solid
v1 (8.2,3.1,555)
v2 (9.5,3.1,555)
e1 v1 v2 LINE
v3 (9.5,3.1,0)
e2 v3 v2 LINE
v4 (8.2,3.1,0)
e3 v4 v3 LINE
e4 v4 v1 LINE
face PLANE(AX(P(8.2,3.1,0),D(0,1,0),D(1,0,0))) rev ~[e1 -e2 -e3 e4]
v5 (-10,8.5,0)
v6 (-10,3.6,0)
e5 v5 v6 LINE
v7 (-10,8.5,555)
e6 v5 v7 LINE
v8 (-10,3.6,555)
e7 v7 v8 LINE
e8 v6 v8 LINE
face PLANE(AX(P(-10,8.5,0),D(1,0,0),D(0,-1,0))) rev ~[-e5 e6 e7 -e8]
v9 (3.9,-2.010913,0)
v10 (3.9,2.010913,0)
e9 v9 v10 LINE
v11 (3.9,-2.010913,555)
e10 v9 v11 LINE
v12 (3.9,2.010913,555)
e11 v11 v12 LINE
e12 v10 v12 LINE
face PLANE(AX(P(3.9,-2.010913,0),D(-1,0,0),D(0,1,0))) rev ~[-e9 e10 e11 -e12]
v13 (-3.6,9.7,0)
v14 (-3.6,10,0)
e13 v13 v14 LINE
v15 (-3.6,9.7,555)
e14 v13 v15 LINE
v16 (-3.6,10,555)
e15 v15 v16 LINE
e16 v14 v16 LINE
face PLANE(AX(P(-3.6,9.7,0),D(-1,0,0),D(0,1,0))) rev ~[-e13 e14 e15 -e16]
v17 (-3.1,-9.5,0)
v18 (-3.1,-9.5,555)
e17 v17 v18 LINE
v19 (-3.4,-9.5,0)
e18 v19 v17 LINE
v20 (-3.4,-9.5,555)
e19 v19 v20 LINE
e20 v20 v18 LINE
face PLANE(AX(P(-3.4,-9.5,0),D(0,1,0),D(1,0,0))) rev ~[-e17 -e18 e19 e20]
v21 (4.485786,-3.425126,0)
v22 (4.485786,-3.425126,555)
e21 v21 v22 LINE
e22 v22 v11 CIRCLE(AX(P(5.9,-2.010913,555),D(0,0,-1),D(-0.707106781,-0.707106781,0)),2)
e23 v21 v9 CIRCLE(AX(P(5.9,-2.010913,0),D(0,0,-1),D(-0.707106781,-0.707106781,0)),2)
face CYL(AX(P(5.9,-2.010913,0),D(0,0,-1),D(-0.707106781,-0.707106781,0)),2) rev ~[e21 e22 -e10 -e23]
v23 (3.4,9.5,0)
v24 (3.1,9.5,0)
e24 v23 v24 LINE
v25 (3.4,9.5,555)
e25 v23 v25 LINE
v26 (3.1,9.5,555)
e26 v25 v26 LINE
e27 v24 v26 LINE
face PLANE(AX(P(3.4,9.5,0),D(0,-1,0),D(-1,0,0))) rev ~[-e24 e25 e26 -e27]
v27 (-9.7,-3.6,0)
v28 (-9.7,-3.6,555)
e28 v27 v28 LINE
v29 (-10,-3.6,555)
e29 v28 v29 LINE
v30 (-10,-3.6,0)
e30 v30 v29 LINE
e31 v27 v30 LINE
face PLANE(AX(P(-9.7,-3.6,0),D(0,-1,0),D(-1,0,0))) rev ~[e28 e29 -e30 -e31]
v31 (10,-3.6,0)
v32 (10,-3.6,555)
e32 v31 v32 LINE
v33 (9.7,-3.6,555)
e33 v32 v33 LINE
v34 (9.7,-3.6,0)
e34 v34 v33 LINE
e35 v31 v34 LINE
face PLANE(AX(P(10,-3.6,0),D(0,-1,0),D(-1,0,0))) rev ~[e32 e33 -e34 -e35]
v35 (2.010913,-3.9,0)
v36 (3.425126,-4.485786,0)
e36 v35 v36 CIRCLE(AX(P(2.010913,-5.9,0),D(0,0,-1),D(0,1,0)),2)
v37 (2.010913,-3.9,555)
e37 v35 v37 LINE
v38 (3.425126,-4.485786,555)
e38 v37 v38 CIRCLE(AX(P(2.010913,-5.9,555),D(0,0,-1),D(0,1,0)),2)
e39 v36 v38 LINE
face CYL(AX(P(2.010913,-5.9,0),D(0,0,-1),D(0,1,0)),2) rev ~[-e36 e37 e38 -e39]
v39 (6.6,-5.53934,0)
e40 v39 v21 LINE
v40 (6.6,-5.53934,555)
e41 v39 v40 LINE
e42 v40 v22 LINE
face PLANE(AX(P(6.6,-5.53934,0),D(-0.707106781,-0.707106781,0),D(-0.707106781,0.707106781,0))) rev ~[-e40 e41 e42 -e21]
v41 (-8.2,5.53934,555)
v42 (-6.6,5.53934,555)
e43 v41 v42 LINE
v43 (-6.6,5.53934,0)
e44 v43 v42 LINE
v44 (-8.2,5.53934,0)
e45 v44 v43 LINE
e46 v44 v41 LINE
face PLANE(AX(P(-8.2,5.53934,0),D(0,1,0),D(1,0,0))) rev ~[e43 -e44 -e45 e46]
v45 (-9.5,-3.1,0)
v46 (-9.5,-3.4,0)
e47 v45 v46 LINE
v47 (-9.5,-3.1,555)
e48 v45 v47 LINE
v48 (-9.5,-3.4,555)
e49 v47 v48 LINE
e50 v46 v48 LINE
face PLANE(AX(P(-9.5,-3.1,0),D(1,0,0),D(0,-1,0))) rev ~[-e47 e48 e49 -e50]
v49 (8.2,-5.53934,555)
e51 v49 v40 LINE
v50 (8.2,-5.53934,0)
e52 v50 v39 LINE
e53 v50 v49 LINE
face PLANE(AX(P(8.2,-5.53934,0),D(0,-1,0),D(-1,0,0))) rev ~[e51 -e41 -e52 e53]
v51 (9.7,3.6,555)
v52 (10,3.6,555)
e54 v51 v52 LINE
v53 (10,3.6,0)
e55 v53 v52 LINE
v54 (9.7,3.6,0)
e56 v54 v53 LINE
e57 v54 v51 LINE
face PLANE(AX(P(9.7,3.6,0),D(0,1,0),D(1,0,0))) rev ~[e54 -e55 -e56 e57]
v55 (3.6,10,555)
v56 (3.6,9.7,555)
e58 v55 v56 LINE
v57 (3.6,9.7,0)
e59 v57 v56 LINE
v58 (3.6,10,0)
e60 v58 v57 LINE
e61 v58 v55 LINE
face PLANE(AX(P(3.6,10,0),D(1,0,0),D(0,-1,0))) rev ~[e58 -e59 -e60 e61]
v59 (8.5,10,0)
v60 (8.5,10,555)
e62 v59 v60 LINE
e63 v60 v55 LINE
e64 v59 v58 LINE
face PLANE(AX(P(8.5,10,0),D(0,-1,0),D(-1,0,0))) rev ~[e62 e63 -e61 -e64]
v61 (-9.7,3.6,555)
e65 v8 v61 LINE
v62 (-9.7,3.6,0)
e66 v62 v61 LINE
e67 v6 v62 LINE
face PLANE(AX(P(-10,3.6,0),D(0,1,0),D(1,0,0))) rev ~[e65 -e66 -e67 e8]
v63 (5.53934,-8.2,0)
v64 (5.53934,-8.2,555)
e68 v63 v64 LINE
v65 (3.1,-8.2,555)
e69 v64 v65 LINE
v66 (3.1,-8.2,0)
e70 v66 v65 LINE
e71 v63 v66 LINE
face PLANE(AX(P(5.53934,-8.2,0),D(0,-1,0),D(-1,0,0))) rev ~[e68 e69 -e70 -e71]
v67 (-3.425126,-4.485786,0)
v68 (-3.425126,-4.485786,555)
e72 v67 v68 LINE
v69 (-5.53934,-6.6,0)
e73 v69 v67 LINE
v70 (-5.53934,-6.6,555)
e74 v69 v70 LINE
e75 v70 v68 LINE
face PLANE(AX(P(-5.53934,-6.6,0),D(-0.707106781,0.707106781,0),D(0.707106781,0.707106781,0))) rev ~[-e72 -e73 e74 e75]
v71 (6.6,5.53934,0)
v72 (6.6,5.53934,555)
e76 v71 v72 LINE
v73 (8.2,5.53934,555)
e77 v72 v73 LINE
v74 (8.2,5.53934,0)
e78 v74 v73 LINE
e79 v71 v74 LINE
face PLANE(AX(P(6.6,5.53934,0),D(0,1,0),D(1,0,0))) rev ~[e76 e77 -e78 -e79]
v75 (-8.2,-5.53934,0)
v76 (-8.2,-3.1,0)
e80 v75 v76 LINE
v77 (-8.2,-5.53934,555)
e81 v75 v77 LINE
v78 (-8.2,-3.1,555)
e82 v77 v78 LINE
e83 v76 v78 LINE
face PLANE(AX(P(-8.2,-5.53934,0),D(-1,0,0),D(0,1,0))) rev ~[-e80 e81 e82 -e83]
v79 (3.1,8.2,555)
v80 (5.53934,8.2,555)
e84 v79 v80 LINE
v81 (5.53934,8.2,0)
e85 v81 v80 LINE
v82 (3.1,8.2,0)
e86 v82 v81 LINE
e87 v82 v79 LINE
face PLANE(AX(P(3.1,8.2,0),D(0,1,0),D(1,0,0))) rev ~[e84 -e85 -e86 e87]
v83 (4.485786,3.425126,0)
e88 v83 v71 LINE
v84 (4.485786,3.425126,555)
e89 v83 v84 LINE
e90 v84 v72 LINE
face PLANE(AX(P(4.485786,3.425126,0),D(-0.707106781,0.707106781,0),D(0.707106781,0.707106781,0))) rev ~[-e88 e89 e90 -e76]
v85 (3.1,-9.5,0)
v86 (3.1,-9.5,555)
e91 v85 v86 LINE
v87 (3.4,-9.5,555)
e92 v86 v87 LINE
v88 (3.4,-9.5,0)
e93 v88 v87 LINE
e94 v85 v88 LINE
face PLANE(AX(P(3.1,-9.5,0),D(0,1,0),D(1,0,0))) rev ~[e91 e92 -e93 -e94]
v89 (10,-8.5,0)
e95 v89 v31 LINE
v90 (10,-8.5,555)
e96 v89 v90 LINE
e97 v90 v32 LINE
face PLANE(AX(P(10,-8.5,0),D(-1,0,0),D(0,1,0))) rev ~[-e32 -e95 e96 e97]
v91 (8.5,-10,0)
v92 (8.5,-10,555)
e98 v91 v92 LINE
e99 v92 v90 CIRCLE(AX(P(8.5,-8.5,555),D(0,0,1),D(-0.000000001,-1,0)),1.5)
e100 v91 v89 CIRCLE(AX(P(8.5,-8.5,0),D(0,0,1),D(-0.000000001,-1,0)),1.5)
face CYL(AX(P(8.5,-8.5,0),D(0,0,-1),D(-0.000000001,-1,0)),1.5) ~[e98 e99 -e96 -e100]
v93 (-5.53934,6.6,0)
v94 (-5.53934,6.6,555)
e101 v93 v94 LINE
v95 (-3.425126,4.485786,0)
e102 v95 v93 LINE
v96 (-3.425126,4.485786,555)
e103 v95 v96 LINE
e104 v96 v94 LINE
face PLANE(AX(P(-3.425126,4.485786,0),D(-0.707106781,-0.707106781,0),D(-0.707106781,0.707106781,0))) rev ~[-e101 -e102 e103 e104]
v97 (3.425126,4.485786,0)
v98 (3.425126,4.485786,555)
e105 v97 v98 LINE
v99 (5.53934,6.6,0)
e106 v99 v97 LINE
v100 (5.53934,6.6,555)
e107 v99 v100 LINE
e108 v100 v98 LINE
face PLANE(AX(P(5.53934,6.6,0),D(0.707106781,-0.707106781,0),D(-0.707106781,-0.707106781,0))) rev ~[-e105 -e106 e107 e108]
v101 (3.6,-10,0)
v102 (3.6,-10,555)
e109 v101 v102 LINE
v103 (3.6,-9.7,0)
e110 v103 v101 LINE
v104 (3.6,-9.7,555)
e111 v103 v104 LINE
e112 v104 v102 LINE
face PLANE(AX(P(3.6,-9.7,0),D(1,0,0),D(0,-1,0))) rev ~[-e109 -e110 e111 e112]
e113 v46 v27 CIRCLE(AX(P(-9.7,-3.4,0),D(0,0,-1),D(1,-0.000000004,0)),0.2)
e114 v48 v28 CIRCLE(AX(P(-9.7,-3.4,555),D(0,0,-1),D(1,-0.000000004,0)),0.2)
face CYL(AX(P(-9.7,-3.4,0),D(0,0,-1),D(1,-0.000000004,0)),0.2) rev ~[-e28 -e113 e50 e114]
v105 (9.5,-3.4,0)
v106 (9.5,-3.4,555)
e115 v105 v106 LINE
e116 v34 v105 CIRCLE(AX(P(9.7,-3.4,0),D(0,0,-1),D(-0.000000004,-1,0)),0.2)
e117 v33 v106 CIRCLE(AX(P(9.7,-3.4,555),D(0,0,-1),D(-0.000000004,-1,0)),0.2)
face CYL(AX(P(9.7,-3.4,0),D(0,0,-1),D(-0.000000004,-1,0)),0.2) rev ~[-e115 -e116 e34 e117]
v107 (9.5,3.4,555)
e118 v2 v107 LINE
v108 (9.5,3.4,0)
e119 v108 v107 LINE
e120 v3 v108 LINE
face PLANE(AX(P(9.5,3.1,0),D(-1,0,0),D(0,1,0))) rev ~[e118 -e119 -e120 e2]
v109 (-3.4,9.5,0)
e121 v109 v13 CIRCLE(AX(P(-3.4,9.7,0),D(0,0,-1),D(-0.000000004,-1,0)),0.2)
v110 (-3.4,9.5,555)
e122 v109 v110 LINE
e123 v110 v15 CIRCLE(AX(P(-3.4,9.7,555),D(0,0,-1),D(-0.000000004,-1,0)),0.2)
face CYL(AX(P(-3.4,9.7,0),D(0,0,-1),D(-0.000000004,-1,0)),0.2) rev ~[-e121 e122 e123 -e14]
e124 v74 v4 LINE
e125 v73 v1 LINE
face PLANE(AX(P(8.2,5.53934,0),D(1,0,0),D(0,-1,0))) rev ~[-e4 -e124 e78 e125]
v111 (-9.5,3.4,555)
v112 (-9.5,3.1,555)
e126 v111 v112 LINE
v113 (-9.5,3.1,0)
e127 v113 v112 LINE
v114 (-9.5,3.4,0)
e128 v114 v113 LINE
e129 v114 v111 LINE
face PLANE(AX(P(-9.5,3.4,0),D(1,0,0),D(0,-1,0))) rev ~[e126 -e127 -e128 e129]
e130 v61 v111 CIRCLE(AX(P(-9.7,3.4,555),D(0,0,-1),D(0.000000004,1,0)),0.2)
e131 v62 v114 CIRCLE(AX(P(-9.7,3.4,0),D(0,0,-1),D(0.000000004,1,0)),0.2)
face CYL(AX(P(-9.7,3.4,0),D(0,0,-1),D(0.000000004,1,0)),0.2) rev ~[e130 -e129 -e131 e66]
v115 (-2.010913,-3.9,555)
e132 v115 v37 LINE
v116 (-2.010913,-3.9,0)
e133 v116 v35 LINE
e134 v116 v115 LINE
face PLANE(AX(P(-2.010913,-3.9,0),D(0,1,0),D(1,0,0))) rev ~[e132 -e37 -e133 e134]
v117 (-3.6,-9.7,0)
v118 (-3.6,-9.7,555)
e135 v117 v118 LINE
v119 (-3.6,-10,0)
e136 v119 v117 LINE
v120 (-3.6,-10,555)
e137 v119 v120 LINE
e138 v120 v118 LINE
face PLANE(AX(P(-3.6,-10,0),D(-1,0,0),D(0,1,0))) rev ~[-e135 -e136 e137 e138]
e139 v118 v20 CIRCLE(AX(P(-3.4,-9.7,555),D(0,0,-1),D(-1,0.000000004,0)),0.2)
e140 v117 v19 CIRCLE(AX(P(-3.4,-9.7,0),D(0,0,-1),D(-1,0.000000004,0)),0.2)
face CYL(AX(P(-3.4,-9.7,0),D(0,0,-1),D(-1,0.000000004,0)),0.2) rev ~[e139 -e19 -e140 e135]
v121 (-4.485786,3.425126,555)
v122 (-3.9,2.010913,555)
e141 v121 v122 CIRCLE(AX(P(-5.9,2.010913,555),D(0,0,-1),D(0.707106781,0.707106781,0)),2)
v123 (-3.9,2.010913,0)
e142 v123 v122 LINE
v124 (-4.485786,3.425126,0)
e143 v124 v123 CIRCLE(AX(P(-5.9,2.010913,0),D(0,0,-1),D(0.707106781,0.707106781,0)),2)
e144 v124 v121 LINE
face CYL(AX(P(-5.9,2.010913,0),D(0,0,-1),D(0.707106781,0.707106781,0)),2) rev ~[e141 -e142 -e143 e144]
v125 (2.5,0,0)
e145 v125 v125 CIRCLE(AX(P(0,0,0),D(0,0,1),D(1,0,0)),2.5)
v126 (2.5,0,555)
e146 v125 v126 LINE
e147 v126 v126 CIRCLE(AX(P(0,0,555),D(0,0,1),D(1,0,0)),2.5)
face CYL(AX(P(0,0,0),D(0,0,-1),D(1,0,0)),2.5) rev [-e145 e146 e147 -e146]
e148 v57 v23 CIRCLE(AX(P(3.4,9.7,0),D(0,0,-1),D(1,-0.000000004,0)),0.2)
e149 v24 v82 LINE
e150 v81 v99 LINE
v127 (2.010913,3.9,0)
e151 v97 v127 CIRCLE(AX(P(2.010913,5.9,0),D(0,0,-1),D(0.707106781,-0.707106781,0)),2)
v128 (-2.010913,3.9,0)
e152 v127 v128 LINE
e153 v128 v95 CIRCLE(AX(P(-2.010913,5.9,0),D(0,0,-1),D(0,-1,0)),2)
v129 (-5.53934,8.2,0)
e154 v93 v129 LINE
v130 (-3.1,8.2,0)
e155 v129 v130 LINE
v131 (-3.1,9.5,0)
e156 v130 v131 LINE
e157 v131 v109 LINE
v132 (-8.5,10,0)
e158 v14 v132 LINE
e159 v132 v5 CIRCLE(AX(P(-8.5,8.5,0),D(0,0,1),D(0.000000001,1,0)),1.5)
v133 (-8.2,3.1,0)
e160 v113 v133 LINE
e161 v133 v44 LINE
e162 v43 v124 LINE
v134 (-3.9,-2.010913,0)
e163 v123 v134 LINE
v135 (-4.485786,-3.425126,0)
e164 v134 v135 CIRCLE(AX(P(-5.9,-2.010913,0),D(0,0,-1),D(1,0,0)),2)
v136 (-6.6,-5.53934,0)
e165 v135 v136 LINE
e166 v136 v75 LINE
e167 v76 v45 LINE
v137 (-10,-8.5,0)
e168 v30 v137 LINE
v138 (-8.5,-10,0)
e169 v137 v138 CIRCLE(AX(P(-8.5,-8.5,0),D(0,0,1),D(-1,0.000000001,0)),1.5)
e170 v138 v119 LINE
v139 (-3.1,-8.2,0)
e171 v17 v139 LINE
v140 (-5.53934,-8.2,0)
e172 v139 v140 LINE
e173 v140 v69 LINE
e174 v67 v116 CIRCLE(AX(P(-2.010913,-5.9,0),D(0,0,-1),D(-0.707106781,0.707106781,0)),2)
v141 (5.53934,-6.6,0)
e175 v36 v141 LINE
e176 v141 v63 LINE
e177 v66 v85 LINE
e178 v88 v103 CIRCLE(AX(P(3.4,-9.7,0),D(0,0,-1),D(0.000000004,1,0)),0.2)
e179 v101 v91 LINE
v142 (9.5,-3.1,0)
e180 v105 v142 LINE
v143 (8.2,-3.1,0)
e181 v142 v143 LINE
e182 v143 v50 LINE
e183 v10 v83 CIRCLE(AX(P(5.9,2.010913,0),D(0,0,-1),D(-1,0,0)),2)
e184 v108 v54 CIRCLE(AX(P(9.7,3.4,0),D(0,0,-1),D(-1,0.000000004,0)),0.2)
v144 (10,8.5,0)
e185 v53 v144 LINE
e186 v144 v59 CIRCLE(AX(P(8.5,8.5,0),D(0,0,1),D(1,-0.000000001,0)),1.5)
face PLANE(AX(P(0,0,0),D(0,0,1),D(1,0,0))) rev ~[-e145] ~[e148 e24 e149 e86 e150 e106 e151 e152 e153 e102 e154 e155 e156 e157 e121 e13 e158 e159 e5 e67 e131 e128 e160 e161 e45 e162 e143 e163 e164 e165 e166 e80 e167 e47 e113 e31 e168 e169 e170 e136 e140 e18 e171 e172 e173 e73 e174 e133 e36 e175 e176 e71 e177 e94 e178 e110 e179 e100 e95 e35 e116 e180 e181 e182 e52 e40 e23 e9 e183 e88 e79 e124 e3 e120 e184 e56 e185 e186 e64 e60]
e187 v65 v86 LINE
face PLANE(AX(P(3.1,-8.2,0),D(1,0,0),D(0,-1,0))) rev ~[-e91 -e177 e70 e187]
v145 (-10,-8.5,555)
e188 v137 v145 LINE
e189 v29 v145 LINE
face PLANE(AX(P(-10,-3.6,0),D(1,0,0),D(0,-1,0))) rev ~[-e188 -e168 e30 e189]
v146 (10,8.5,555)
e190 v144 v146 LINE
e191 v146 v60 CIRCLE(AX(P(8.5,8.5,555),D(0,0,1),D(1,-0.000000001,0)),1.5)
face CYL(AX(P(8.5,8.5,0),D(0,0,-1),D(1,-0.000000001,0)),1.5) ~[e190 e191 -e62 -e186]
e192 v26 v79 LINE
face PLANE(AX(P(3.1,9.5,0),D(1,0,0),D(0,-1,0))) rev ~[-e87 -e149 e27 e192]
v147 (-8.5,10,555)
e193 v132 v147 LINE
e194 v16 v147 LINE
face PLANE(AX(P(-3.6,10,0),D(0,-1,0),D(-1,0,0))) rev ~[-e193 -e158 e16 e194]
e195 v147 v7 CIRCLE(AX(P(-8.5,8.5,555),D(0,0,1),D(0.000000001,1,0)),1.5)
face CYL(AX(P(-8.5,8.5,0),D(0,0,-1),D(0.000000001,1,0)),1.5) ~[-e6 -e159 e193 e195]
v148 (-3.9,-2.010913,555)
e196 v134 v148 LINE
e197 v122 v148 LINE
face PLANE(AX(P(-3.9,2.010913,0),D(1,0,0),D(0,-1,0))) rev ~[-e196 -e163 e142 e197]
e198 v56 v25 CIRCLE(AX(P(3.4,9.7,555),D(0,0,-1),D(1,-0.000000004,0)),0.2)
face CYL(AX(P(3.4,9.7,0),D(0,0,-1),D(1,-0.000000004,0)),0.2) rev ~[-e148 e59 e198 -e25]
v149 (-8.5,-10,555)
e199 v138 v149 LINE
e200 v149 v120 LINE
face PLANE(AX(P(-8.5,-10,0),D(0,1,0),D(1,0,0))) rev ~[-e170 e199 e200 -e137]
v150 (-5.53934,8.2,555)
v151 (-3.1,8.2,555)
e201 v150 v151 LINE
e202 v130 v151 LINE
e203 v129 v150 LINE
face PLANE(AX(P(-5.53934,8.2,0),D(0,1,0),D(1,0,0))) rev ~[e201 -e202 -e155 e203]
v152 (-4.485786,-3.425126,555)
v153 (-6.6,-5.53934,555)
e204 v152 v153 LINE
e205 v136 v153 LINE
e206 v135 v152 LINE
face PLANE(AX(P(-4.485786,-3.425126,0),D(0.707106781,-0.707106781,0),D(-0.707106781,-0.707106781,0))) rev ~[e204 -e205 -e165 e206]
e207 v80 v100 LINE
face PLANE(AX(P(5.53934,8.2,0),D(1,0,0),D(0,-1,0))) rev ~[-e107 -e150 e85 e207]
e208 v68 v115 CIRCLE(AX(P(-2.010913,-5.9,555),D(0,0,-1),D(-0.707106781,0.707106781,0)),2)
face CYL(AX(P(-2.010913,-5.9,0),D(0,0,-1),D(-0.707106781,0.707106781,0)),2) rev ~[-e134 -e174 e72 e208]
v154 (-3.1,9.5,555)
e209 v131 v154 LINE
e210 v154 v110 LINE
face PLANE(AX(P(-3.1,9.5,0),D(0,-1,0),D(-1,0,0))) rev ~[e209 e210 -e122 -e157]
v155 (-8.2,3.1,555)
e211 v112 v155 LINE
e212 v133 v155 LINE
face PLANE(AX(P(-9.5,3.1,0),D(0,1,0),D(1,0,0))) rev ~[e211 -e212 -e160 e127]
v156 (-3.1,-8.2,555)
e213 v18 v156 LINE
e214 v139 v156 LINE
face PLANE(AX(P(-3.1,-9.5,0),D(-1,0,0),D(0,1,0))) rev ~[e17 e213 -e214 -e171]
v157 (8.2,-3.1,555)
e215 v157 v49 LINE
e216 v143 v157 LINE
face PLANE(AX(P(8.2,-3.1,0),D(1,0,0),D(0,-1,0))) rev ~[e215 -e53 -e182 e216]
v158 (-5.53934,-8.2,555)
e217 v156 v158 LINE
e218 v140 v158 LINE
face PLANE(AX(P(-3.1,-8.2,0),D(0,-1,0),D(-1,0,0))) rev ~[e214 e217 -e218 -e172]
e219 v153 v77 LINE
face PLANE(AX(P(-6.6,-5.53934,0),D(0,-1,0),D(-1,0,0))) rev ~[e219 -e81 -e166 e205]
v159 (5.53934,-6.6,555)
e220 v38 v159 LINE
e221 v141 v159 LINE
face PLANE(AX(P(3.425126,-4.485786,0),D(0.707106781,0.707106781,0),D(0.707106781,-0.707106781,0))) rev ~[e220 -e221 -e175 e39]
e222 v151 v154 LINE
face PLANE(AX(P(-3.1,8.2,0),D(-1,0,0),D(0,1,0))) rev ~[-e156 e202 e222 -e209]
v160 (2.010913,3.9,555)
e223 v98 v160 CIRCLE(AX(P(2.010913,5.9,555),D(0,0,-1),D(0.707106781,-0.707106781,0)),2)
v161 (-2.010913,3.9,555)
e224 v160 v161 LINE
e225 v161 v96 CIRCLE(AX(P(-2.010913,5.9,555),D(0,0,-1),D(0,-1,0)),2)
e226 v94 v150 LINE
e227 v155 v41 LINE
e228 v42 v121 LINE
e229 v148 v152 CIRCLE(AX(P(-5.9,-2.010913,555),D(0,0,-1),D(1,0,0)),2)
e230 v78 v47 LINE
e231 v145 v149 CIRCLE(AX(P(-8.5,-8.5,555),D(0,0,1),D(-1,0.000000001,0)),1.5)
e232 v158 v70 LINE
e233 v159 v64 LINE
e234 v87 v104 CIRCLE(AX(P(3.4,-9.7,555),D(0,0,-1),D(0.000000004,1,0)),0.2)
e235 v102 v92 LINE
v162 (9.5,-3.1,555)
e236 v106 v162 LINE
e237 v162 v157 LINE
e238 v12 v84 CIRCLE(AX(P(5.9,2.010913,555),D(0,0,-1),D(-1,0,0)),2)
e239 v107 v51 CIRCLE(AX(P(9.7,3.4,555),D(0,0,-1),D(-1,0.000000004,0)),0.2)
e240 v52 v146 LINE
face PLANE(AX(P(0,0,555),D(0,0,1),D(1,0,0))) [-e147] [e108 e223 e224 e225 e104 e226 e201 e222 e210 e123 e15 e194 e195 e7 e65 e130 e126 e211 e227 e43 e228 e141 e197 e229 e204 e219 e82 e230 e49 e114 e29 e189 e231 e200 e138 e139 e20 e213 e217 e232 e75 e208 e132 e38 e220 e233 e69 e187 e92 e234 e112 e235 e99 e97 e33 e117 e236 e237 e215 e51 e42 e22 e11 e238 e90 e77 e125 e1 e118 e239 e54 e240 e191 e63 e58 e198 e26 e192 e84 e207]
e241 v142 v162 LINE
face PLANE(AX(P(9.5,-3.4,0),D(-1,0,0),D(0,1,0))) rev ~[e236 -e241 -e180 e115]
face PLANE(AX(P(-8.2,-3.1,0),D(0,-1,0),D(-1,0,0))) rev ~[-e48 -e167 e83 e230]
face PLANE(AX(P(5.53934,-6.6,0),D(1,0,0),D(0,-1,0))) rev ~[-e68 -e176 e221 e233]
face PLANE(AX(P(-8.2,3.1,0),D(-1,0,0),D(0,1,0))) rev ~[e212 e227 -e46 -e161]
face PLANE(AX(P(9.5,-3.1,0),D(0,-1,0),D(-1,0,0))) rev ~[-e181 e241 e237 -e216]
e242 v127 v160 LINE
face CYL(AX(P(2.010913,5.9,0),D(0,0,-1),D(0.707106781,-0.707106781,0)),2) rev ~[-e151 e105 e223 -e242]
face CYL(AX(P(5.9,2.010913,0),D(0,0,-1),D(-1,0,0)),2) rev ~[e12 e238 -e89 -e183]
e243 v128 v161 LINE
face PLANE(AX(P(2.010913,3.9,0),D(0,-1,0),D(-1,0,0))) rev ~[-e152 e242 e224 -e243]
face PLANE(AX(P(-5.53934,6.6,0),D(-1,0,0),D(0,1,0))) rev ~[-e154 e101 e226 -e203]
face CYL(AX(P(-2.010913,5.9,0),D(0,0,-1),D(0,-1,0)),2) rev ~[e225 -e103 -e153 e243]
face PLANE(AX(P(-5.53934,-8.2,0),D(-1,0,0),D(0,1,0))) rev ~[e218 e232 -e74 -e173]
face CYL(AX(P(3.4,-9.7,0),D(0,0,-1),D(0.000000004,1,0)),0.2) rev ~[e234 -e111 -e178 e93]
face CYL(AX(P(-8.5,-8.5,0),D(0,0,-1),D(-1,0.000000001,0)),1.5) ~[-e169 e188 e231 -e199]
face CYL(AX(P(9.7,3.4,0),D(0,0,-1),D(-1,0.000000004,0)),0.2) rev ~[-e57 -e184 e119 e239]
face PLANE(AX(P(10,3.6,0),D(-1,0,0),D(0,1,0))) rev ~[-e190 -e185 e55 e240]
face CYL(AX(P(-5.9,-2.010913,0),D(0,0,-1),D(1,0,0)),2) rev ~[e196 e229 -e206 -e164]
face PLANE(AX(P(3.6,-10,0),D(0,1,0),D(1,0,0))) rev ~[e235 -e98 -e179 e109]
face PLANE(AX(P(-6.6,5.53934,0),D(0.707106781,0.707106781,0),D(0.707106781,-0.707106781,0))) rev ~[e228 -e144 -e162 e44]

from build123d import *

# Parameters (mm, degrees)
SKETCH1_R      = 2.5
EXTRUDE1_DEPTH = 555


with BuildPart() as part:
    # Sketch1 → Extrude1 (new body)
    with BuildSketch(Plane.XY):
        with BuildLine():
            Line((0, 3.9), (-2.010912703, 3.9))
            ThreePointArc((-2.010912703, 3.9), (-2.776279568, 4.052240935), (-3.425126266, 4.485786438))
            Line((-3.425126266, 4.485786438), (-5.539339828, 6.6))
            Line((-5.539339828, 6.6), (-5.539339828, 8.2))
            Line((-5.539339828, 8.2), (-3.1, 8.2))
            Line((-3.1, 8.2), (-3.1, 9.5))
            Line((-3.1, 9.5), (-3.4, 9.5))
            ThreePointArc((-3.4, 9.5), (-3.541421356, 9.558578644), (-3.6, 9.7))
            Line((-3.6, 9.7), (-3.6, 10))
            Line((-3.6, 10), (-8.5, 10))
            ThreePointArc((-8.5, 10), (-9.560660172, 9.560660172), (-10, 8.5))
            Line((-10, 8.5), (-10, 3.6))
            Line((-10, 3.6), (-9.7, 3.6))
            ThreePointArc((-9.7, 3.6), (-9.558578644, 3.541421356), (-9.5, 3.4))
            Line((-9.5, 3.4), (-9.5, 3.1))
            Line((-9.5, 3.1), (-8.2, 3.1))
            Line((-8.2, 3.1), (-8.2, 5.539339828))
            Line((-8.2, 5.539339828), (-6.6, 5.539339828))
            Line((-6.6, 5.539339828), (-4.485786438, 3.425126266))
            ThreePointArc((-4.485786438, 3.425126266), (-4.052240935, 2.776279568), (-3.9, 2.010912703))
            Line((-3.9, 2.010912703), (-3.9, 0))
            Line((-3.9, 0), (-3.9, -2.010912703))
            ThreePointArc((-3.9, -2.010912703), (-4.052240935, -2.776279568), (-4.485786438, -3.425126266))
            Line((-4.485786438, -3.425126266), (-6.6, -5.539339828))
            Line((-6.6, -5.539339828), (-8.2, -5.539339828))
            Line((-8.2, -5.539339828), (-8.2, -3.1))
            Line((-8.2, -3.1), (-9.5, -3.1))
            Line((-9.5, -3.1), (-9.5, -3.4))
            ThreePointArc((-9.5, -3.4), (-9.558578644, -3.541421356), (-9.7, -3.6))
            Line((-9.7, -3.6), (-10, -3.6))
            Line((-10, -3.6), (-10, -8.5))
            ThreePointArc((-10, -8.5), (-9.560660172, -9.560660172), (-8.5, -10))
            Line((-8.5, -10), (-3.6, -10))
            Line((-3.6, -10), (-3.6, -9.7))
            ThreePointArc((-3.6, -9.7), (-3.541421356, -9.558578644), (-3.4, -9.5))
            Line((-3.4, -9.5), (-3.1, -9.5))
            Line((-3.1, -9.5), (-3.1, -8.2))
            Line((-3.1, -8.2), (-5.539339828, -8.2))
            Line((-5.539339828, -8.2), (-5.539339828, -6.6))
            Line((-5.539339828, -6.6), (-3.425126266, -4.485786438))
            ThreePointArc((-3.425126266, -4.485786438), (-2.776279568, -4.052240935), (-2.010912703, -3.9))
            Line((-2.010912703, -3.9), (0, -3.9))
            Line((0, -3.9), (2.010912703, -3.9))
            ThreePointArc((2.010912703, -3.9), (2.776279568, -4.052240935), (3.425126266, -4.485786438))
            Line((3.425126266, -4.485786438), (5.539339828, -6.6))
            Line((5.539339828, -6.6), (5.539339828, -8.2))
            Line((5.539339828, -8.2), (3.1, -8.2))
            Line((3.1, -8.2), (3.1, -9.5))
            Line((3.1, -9.5), (3.4, -9.5))
            ThreePointArc((3.4, -9.5), (3.541421356, -9.558578644), (3.6, -9.7))
            Line((3.6, -9.7), (3.6, -10))
            Line((3.6, -10), (8.5, -10))
            ThreePointArc((8.5, -10), (9.560660172, -9.560660172), (10, -8.5))
            Line((10, -8.5), (10, -3.6))
            Line((10, -3.6), (9.7, -3.6))
            ThreePointArc((9.7, -3.6), (9.558578644, -3.541421356), (9.5, -3.4))
            Line((9.5, -3.4), (9.5, -3.1))
            Line((9.5, -3.1), (8.2, -3.1))
            Line((8.2, -3.1), (8.2, -5.539339828))
            Line((8.2, -5.539339828), (6.6, -5.539339828))
            Line((6.6, -5.539339828), (4.485786438, -3.425126266))
            ThreePointArc((4.485786438, -3.425126266), (4.052240935, -2.776279568), (3.9, -2.010912703))
            Line((3.9, -2.010912703), (3.9, 0))
            Line((3.9, 0), (3.9, 2.010912703))
            ThreePointArc((3.9, 2.010912703), (4.052240935, 2.776279568), (4.485786438, 3.425126266))
            Line((4.485786438, 3.425126266), (6.6, 5.539339828))
            Line((6.6, 5.539339828), (8.2, 5.539339828))
            Line((8.2, 5.539339828), (8.2, 3.1))
            Line((8.2, 3.1), (9.5, 3.1))
            Line((9.5, 3.1), (9.5, 3.4))
            ThreePointArc((9.5, 3.4), (9.558578644, 3.541421356), (9.7, 3.6))
            Line((9.7, 3.6), (10, 3.6))
            Line((10, 3.6), (10, 8.5))
            ThreePointArc((10, 8.5), (9.560660172, 9.560660172), (8.5, 10))
            Line((8.5, 10), (3.6, 10))
            Line((3.6, 10), (3.6, 9.7))
            ThreePointArc((3.6, 9.7), (3.541421356, 9.558578644), (3.4, 9.5))
            Line((3.4, 9.5), (3.1, 9.5))
            Line((3.1, 9.5), (3.1, 8.2))
            Line((3.1, 8.2), (5.539339828, 8.2))
            Line((5.539339828, 8.2), (5.539339828, 6.6))
            Line((5.539339828, 6.6), (3.425126266, 4.485786438))
            ThreePointArc((3.425126266, 4.485786438), (2.776279568, 4.052240935), (2.010912703, 3.9))
            Line((2.010912703, 3.9), (0, 3.9))
        make_face()
        Circle(SKETCH1_R, mode=Mode.SUBTRACT)
    extrude(amount=EXTRUDE1_DEPTH)


solid = part.part
